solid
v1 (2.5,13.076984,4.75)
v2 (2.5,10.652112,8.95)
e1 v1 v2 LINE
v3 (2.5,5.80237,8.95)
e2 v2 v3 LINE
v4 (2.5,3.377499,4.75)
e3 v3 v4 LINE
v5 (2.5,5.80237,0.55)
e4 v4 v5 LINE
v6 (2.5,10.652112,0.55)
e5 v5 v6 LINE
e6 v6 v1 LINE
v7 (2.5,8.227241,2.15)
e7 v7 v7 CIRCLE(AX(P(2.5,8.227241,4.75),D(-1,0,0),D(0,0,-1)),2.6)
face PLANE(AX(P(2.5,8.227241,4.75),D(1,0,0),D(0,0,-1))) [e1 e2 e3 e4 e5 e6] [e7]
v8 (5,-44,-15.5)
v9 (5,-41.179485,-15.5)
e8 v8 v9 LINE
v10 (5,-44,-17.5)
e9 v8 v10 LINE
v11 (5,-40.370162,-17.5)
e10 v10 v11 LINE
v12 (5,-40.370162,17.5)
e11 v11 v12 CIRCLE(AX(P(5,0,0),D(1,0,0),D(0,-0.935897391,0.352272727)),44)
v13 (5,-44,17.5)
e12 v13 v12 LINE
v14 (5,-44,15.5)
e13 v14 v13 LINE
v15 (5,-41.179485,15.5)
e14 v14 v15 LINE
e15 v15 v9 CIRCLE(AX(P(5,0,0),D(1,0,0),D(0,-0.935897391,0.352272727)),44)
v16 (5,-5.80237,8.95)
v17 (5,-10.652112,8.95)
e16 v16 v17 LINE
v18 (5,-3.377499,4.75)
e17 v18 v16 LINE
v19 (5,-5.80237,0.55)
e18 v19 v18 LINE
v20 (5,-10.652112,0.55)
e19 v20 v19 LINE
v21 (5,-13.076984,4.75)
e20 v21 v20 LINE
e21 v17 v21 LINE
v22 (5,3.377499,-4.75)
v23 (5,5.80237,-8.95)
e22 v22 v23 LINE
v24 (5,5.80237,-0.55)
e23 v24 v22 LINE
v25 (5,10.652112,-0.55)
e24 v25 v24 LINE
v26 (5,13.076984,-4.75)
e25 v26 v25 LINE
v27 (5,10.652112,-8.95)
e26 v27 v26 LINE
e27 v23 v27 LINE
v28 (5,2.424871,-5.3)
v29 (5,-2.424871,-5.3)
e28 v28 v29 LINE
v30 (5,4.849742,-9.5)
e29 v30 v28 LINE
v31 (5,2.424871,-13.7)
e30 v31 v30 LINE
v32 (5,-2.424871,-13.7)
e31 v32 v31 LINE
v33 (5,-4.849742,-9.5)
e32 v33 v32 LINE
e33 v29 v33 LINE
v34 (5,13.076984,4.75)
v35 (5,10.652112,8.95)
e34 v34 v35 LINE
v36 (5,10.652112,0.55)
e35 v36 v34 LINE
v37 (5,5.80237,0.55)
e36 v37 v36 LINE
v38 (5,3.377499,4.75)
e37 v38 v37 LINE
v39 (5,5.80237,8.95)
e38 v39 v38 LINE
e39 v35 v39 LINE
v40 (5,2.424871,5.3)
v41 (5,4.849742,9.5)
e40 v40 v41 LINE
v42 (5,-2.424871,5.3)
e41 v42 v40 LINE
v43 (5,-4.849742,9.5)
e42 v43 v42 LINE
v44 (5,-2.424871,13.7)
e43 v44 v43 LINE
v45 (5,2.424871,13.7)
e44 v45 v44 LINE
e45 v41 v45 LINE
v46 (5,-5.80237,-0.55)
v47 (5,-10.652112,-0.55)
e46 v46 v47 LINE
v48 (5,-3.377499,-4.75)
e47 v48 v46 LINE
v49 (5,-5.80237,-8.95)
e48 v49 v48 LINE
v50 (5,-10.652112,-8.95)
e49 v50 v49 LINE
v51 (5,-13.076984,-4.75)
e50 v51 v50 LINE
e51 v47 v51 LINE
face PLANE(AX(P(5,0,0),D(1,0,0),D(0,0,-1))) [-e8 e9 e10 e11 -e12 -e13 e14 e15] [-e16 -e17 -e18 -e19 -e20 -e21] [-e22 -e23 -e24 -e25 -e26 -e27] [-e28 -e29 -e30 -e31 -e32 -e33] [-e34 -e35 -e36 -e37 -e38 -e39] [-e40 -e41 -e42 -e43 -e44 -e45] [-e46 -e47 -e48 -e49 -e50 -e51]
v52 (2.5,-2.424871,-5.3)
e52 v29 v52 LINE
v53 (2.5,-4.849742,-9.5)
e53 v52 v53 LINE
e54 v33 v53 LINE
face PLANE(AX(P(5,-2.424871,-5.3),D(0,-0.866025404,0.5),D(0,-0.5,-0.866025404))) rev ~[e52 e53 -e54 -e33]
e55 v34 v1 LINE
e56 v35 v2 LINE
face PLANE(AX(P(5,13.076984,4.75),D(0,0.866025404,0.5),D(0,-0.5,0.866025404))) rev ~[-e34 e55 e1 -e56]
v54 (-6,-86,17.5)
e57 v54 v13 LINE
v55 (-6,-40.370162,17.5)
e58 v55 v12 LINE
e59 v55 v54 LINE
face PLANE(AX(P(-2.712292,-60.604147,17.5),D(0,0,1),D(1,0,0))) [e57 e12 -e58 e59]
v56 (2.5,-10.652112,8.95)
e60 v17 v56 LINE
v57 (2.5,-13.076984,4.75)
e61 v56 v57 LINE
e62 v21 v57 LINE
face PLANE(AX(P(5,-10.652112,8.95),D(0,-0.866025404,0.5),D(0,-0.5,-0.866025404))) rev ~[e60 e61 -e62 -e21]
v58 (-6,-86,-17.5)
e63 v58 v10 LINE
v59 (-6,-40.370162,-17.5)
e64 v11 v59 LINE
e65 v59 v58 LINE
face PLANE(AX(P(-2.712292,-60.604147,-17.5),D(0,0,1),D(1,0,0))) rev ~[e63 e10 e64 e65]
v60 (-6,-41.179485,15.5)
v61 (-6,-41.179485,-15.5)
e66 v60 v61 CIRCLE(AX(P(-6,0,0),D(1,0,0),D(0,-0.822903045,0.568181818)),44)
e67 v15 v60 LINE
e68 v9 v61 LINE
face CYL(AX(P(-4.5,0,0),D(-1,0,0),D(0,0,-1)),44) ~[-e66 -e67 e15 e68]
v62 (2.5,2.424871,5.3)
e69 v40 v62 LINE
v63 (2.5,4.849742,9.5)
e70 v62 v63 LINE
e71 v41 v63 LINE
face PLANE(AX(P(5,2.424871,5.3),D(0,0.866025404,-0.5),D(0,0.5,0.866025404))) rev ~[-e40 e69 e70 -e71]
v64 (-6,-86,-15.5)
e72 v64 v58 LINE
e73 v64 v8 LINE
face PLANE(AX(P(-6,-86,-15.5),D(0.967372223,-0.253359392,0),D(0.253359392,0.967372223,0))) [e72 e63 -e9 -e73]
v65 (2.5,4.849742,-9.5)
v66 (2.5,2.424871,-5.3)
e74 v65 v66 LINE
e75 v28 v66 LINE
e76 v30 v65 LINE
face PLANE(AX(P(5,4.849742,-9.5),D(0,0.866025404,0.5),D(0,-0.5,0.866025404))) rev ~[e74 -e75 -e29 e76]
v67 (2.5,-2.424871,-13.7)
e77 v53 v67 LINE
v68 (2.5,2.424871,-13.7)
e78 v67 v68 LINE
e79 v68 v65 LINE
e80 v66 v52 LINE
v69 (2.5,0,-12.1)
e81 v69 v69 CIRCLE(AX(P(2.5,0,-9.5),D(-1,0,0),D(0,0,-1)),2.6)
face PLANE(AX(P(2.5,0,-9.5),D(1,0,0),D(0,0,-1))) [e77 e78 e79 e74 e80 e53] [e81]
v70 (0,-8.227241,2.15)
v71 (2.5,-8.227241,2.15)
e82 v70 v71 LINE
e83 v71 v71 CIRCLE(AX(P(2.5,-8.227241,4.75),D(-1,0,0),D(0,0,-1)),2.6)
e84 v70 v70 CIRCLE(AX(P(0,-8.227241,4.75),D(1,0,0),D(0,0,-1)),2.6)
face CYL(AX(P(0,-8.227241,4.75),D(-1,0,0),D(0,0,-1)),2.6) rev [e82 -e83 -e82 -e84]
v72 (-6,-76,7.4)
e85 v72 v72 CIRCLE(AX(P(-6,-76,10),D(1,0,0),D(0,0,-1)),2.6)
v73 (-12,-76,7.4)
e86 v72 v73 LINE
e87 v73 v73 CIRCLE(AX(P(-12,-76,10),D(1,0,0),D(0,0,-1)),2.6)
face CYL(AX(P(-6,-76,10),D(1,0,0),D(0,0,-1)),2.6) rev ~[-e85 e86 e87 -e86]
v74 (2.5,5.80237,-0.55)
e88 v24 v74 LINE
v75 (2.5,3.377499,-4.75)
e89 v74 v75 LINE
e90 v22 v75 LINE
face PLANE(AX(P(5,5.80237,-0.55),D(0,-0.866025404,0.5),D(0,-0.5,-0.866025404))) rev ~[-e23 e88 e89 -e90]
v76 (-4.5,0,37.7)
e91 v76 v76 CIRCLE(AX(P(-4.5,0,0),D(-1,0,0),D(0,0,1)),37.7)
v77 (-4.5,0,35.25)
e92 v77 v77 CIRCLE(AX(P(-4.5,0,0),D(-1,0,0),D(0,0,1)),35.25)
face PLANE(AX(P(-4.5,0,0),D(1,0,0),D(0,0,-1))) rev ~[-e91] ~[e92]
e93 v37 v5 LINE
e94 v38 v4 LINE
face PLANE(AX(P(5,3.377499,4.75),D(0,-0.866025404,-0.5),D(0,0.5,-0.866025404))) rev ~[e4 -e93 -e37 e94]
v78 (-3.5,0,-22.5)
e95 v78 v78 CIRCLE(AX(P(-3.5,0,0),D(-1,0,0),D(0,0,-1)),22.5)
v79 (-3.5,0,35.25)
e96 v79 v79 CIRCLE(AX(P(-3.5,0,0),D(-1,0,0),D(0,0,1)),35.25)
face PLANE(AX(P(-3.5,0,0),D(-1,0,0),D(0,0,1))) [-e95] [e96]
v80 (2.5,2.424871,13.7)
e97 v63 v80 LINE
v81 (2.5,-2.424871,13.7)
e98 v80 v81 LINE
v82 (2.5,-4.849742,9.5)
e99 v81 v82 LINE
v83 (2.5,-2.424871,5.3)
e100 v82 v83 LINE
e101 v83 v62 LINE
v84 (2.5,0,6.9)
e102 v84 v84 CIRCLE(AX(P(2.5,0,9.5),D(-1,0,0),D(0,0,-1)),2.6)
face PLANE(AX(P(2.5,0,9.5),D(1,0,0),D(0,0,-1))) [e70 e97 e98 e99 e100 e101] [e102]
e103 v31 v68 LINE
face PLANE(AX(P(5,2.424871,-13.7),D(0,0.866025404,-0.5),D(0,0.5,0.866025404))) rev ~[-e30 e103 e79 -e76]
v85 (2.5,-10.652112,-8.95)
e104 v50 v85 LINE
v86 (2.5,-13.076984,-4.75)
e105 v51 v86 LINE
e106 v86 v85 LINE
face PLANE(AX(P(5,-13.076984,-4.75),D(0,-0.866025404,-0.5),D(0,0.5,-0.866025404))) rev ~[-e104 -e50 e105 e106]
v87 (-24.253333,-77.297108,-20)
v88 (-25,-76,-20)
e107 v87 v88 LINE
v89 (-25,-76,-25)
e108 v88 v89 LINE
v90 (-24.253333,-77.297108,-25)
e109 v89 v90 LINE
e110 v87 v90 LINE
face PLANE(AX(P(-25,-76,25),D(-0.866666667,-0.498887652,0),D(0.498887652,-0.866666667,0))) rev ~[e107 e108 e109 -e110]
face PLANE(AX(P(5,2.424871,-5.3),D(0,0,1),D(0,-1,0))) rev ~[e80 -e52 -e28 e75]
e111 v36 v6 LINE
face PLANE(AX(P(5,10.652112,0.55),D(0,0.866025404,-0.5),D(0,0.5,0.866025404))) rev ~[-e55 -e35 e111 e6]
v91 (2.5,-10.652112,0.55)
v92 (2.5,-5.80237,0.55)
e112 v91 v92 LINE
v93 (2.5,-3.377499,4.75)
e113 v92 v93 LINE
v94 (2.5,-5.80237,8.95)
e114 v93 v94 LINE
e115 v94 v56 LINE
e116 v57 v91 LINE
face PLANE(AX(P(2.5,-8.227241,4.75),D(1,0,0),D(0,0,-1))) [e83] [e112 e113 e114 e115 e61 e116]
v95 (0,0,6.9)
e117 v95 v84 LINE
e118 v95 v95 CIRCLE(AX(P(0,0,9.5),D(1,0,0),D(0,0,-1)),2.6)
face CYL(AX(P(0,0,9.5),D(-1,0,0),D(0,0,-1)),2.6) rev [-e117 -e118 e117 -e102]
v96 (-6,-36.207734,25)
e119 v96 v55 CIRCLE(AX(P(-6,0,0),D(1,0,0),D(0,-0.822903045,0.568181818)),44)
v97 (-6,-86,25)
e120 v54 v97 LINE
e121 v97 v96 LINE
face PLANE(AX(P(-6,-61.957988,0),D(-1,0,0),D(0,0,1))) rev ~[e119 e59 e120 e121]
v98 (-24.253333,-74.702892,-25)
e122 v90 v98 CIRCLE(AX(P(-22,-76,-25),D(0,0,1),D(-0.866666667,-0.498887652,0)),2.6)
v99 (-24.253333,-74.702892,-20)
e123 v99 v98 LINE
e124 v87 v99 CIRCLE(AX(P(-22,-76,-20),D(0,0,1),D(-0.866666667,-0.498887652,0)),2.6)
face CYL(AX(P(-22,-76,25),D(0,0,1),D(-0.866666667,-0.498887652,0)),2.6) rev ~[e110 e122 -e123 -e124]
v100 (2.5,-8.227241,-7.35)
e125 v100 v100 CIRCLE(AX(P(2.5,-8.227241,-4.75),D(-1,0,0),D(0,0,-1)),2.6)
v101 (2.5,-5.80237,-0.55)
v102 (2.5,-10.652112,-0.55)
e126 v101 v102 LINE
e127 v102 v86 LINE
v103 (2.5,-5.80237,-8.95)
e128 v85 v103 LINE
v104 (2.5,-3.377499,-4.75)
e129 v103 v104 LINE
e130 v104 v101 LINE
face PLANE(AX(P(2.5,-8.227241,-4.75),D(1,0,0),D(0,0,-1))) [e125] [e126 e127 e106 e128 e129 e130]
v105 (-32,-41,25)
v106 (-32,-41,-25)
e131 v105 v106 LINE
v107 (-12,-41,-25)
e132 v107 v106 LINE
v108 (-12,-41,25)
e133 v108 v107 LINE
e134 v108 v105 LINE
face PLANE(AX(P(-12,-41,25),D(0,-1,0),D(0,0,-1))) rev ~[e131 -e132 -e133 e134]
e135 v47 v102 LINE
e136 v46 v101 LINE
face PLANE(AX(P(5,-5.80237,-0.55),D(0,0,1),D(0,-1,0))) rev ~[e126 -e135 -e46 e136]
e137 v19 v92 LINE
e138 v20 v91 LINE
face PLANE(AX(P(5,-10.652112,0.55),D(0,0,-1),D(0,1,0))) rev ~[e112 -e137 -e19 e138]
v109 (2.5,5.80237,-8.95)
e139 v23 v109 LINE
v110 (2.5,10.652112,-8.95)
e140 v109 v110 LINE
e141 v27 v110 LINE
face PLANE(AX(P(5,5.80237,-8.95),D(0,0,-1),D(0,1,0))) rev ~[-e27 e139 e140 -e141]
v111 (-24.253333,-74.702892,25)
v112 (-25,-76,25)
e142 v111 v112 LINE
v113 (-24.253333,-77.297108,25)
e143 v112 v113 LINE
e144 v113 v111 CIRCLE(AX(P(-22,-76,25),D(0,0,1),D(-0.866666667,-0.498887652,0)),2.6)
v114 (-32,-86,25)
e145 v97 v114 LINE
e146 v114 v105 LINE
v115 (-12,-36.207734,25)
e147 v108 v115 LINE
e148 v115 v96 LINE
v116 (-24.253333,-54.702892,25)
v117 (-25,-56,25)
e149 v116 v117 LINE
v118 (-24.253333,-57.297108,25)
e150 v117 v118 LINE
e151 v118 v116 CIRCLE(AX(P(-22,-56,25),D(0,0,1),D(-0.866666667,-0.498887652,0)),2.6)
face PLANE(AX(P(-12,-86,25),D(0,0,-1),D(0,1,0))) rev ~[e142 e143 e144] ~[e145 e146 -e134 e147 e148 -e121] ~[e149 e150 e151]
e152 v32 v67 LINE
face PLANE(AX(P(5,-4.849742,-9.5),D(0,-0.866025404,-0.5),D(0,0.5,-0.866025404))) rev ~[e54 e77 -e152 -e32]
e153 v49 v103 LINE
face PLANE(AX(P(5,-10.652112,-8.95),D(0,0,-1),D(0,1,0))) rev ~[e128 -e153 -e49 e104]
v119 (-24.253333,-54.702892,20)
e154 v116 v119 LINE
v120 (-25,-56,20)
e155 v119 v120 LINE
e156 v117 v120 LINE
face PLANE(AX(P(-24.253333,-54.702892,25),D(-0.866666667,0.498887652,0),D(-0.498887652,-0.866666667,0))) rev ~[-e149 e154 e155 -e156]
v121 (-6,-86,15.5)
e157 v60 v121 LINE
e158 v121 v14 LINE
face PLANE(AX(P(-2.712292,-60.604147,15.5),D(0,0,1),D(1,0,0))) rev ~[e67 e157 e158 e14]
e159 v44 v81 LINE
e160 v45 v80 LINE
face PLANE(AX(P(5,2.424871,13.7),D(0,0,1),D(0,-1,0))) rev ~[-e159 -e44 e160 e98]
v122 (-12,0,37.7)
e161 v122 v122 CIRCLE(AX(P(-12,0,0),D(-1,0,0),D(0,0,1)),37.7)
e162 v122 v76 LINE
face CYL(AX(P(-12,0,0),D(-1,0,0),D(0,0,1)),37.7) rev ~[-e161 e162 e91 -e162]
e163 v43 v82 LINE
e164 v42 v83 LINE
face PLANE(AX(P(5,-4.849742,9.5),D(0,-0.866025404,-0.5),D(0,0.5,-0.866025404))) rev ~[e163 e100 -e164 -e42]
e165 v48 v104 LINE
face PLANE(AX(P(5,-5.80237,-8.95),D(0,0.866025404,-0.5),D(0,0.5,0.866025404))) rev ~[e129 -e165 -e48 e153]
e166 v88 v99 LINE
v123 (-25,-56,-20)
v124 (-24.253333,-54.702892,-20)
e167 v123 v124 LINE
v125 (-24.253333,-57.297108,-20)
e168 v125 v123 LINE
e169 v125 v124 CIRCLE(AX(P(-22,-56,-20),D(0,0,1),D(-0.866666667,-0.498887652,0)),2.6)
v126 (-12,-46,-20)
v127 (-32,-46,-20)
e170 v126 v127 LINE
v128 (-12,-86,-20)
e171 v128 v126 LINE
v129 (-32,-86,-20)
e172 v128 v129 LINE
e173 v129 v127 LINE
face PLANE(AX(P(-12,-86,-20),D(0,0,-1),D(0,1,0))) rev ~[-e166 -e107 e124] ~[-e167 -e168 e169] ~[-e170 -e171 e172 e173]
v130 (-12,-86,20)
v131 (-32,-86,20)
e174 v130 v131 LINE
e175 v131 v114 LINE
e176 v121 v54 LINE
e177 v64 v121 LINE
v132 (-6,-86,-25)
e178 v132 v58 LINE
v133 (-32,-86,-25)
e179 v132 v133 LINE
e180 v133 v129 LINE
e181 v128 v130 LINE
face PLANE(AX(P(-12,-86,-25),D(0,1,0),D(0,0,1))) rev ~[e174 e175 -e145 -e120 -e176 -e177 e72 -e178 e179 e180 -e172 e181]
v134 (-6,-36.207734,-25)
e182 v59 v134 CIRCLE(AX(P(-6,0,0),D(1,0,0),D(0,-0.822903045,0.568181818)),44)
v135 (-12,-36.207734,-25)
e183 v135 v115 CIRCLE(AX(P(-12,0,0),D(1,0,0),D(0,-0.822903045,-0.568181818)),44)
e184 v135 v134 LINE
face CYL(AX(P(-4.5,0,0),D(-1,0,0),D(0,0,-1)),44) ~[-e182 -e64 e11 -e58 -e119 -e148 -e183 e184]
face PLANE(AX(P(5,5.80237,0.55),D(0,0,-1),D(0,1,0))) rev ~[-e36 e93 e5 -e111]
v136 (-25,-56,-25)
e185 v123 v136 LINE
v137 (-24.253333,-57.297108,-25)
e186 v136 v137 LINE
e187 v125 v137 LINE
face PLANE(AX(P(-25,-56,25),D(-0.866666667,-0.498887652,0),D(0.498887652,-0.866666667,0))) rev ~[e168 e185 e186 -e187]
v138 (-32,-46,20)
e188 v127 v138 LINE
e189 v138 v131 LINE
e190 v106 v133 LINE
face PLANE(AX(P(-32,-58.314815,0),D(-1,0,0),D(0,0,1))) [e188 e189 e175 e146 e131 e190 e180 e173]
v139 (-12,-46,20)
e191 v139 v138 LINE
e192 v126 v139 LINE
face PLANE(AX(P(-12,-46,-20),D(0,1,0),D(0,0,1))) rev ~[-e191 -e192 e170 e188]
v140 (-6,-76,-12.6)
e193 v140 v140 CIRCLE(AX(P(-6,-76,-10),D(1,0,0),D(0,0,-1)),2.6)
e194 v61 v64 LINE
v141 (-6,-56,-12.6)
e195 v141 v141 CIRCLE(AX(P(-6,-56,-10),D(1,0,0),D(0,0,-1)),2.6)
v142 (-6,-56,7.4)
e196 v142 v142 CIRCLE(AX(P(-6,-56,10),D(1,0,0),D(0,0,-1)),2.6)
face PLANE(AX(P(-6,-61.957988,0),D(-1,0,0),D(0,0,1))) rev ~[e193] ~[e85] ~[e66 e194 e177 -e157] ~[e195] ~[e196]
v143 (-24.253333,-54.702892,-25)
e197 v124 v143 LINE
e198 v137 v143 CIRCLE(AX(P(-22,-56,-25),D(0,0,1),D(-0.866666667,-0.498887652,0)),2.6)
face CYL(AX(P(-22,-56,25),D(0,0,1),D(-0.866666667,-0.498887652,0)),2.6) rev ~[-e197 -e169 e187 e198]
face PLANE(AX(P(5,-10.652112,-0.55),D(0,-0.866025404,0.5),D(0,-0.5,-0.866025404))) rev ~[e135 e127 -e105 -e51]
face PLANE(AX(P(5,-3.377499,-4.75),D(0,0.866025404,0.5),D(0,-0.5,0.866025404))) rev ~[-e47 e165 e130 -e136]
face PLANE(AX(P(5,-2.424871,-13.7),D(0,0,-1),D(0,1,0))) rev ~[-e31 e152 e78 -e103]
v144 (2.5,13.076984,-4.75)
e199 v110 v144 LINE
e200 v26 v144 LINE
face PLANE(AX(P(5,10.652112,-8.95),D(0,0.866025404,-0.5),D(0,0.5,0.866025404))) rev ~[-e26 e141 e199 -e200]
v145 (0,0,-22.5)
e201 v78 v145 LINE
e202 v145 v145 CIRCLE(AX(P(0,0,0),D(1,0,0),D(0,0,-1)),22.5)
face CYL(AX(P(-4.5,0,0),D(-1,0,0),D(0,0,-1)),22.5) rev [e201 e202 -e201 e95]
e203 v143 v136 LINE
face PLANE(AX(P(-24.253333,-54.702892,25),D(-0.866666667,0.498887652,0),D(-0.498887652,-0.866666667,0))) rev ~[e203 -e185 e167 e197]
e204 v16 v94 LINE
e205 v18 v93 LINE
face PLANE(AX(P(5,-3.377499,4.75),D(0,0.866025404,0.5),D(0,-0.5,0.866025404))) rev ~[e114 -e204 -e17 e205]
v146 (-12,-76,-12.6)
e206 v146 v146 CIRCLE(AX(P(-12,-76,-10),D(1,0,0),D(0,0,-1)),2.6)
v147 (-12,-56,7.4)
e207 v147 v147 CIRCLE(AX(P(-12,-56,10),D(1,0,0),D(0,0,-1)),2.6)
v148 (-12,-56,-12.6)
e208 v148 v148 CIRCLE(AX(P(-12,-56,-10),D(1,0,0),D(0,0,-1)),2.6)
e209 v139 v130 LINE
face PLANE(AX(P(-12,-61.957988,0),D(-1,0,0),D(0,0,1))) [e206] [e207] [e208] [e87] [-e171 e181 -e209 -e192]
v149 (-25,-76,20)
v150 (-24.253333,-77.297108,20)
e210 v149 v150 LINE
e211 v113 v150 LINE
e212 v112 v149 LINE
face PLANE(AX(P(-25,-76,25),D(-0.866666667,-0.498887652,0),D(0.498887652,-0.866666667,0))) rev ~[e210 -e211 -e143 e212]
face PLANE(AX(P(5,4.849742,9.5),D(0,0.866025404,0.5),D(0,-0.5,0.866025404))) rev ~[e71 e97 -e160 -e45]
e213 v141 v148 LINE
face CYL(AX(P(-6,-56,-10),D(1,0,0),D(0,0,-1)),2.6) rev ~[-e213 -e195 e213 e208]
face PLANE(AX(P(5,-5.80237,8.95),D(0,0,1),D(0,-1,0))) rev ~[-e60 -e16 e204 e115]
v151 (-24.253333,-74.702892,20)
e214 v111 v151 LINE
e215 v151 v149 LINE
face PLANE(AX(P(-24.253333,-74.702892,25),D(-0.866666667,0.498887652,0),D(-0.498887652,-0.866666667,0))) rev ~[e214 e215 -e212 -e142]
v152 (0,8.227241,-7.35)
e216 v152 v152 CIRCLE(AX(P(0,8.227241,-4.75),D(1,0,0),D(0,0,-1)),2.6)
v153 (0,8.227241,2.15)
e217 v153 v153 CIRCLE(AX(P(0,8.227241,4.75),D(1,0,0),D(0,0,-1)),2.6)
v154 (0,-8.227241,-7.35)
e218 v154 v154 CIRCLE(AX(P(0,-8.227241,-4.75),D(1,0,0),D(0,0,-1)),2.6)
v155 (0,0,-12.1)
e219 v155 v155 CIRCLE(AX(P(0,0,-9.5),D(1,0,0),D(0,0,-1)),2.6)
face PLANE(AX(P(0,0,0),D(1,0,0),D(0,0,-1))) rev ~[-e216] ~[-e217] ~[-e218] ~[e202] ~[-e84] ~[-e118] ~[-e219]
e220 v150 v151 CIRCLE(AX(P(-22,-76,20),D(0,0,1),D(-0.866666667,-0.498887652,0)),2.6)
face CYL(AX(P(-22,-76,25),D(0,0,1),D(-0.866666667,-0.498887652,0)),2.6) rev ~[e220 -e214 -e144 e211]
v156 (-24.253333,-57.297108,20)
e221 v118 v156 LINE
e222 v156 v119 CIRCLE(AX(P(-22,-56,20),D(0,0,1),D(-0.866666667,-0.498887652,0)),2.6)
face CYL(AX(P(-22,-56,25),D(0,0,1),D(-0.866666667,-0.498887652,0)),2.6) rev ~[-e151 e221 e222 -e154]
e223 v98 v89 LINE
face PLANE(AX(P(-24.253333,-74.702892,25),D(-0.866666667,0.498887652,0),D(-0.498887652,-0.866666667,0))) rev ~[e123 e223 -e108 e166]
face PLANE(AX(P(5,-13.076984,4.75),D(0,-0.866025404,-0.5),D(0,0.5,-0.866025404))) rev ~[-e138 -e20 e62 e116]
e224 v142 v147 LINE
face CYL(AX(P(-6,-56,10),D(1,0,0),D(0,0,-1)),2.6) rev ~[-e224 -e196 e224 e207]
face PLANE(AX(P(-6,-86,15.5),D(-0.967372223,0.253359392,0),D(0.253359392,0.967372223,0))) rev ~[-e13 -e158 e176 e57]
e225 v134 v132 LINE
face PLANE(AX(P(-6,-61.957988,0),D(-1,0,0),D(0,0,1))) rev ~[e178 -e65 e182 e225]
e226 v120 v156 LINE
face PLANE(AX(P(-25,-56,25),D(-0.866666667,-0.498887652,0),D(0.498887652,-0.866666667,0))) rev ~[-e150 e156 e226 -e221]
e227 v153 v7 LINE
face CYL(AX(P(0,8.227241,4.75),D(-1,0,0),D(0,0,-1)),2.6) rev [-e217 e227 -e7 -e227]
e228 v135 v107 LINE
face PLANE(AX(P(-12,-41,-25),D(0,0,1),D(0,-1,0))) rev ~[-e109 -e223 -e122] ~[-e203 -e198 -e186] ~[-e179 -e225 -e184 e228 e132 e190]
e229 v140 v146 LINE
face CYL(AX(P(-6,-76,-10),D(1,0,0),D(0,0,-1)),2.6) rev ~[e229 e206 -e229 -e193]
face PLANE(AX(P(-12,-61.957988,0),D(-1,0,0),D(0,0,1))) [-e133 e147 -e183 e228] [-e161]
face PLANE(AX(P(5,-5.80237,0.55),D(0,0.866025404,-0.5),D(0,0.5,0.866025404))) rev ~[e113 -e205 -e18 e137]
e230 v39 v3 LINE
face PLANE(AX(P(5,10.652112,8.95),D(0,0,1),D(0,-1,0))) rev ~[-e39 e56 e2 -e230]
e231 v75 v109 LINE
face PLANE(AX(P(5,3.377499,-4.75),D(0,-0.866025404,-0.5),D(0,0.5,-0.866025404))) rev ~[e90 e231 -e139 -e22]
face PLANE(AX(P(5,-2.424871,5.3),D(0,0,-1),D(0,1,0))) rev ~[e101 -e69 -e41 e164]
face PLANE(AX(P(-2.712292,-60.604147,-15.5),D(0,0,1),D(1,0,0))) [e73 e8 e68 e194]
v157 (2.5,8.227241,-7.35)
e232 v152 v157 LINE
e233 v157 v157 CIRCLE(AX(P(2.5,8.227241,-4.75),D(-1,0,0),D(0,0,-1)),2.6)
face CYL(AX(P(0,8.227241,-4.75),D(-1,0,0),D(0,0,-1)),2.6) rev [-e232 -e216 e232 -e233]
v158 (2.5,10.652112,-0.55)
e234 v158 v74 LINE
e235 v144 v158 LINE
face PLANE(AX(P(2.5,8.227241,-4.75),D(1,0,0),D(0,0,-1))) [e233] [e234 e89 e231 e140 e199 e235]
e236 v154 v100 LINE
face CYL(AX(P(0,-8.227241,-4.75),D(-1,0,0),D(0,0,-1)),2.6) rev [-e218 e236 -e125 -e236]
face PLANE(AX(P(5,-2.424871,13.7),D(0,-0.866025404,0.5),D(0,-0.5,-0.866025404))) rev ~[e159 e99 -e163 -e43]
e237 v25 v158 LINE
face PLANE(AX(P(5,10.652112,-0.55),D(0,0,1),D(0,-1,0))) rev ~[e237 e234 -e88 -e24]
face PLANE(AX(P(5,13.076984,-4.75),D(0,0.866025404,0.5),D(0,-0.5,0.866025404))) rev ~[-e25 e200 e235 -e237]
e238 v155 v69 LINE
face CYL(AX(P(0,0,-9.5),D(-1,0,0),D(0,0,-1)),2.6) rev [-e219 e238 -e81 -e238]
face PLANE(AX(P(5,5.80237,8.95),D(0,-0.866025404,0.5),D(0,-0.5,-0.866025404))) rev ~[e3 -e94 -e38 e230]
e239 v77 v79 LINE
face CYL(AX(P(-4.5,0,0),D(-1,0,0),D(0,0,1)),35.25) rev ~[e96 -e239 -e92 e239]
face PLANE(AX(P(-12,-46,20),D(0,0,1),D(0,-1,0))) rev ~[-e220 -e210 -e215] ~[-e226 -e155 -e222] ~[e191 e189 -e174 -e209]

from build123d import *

# Parameters (mm, degrees)
SKETCH1_R                = 44
SKETCH1_R_2              = 2.6
BOSS_EXTRUDE1_DEPTH      = 5
BOSS_EXTRUDE2_START      = -4.5
SKETCH1_3_R              = 44
SKETCH1_3_R_2            = 22.5
BOSS_EXTRUDE2_DEPTH      = 4.5
BOSS_EXTRUDE3_START      = 7.5
SKETCH2_R                = 44
SKETCH2_R_2              = 37.7
BOSS_EXTRUDE3_DEPTH      = 7.5
BOSS_EXTRUDE4_DEPTH      = 6
SKETCH4_R                = 35.25
CUT_EXTRUDE1_DEPTH       = 1
BOSS_EXTRUDE5_DEPTH      = 20
BOSS_EXTRUDE7_DEPTH      = 1
BOSS_EXTRUDE7_DEPTH_BACK = 1
BOSS_EXTRUDE8_DEPTH      = 1
BOSS_EXTRUDE8_DEPTH_BACK = 1
SKETCH8_R                = 2.6
CUT_EXTRUDE2_DEPTH       = 101.039992003
CUT_EXTRUDE3_DEPTH       = 115.808536268
CUT_EXTRUDE4_DEPTH       = 2.5


with BuildPart() as part:
    # Sketch1 → Boss-Extrude1 (new body)
    with BuildSketch(Plane(origin=(0, 0, 0), x_dir=(0, 0, -1), z_dir=(1, 0, 0))):
        Circle(SKETCH1_R)
        with Locations((-4.75, -8.227241336)):
            Circle(SKETCH1_R_2, mode=Mode.SUBTRACT)
        with Locations((4.75, -8.227241336)):
            Circle(SKETCH1_R_2, mode=Mode.SUBTRACT)
        with Locations((9.5, 0)):
            Circle(SKETCH1_R_2, mode=Mode.SUBTRACT)
        with Locations((-9.5, 0)):
            Circle(SKETCH1_R_2, mode=Mode.SUBTRACT)
        with Locations((-4.75, 8.227241336)):
            Circle(SKETCH1_R_2, mode=Mode.SUBTRACT)
        with Locations((4.75, 8.227241336)):
            Circle(SKETCH1_R_2, mode=Mode.SUBTRACT)
    extrude(amount=BOSS_EXTRUDE1_DEPTH)

    # Sketch1<3> → Boss-Extrude2 (add)
    with BuildSketch(Plane(origin=(0, 0, 0), x_dir=(0, 0, -1), z_dir=(1, 0, 0)).offset(BOSS_EXTRUDE2_START)):
        Circle(SKETCH1_3_R)
        Circle(SKETCH1_3_R_2, mode=Mode.SUBTRACT)
    extrude(amount=BOSS_EXTRUDE2_DEPTH)

    # Sketch2 → Boss-Extrude3 (add)
    with BuildSketch(Plane.ZY.offset(4.5).offset(BOSS_EXTRUDE3_START)):
        Circle(SKETCH2_R)
        Circle(SKETCH2_R_2, mode=Mode.SUBTRACT)
    extrude(amount=-BOSS_EXTRUDE3_DEPTH)

    # Sketch3 → Boss-Extrude4 (add)
    with BuildSketch(Plane.ZY.offset(12)):
        with BuildLine():
            Line((-25, -86), (25, -86))
            Line((25, -86), (25, -36.20773398))
            ThreePointArc((25, -36.20773398), (0, -44), (-25, -36.20773398))
            Line((-25, -36.20773398), (-25, -86))
        make_face()
    extrude(amount=-BOSS_EXTRUDE4_DEPTH)

    # Sketch4 → Cut-Extrude1 (cut)
    with BuildSketch(Plane.ZY.offset(4.5)):
        Circle(SKETCH4_R)
    extrude(amount=-CUT_EXTRUDE1_DEPTH, mode=Mode.SUBTRACT)

    # Sketch5 → Boss-Extrude5 (add)
    with BuildSketch(Plane.ZY.offset(12)):
        Polygon((-25, -41), (-25, -86), (-20, -86), (-20, -46), (20, -46), (20, -86), (25, -86), (25, -41), align=None)
    extrude(amount=BOSS_EXTRUDE5_DEPTH)

    # Sketch6 → Boss-Extrude7 (add, two sides: drawn at the far end of the back side and taken through both)
    with BuildSketch(Plane.XY.offset(16.5).offset(-BOSS_EXTRUDE7_DEPTH_BACK)):
        Polygon((5, -40), (-6, -40), (-6, -86), (5, -44), align=None)
    extrude(amount=BOSS_EXTRUDE7_DEPTH + BOSS_EXTRUDE7_DEPTH_BACK)

    # Sketch7 → Boss-Extrude8 (add, two sides: drawn at the far end of the back side and taken through both)
    with BuildSketch(Plane(origin=(0, 0, -16.5), x_dir=(-1, 0, 0), z_dir=(0, 0, -1)).offset(-BOSS_EXTRUDE8_DEPTH_BACK)):
        Polygon((-5, -40), (6, -40), (6, -86), (-5, -44), align=None)
    extrude(amount=BOSS_EXTRUDE8_DEPTH + BOSS_EXTRUDE8_DEPTH_BACK)

    # Sketch8 → Cut-Extrude2 (cut, through all)
    with BuildSketch(Plane(origin=(-6, 0, 0), x_dir=(0, 0, -1), z_dir=(1, 0, 0))):
        with Locations((-10, -76)):
            Circle(SKETCH8_R)
        with Locations((10, -76)):
            Circle(SKETCH8_R)
        with Locations((-10, -56)):
            Circle(SKETCH8_R)
        with Locations((10, -56)):
            Circle(SKETCH8_R)
    extrude(amount=-CUT_EXTRUDE2_DEPTH, mode=Mode.SUBTRACT)

    # Sketch9 → Cut-Extrude3 (cut, through all)
    with BuildSketch(Plane.XY.offset(25)):
        with BuildLine():
            Line((-25, -56), (-24.253333333, -57.297107894))
            ThreePointArc((-24.253333333, -57.297107894), (-19.4, -56), (-24.253333333, -54.702892106))
            Line((-24.253333333, -54.702892106), (-25, -56))
        make_face()
        with BuildLine():
            Line((-25, -76), (-24.253333333, -77.297107894))
            ThreePointArc((-24.253333333, -77.297107894), (-19.4, -76), (-24.253333333, -74.702892106))
            Line((-24.253333333, -74.702892106), (-25, -76))
        make_face()
    extrude(amount=-CUT_EXTRUDE3_DEPTH, mode=Mode.SUBTRACT)

    # Sketch10 → Cut-Extrude4 (cut)
    with BuildSketch(Plane(origin=(5, 0, 0), x_dir=(0, 0, -1), z_dir=(1, 0, 0))):
        Polygon((9.5, -4.849742261), (13.7, -2.424871131), (13.7, 2.424871131), (9.5, 4.849742261), (5.3, 2.424871131), (5.3, -2.424871131), align=None)
        Polygon((8.95, 5.802370205), (8.95, 10.652112467), (4.75, 13.076983597), (0.55, 10.652112467), (0.55, 5.802370205), (4.75, 3.377499075), align=None)
        Polygon((0.55, -10.652112467), (4.75, -13.076983597), (8.95, -10.652112467), (8.95, -5.802370205), (4.75, -3.377499075), (0.55, -5.802370205), align=None)
        Polygon((-8.95, -5.802370205), (-8.95, -10.652112467), (-4.75, -13.076983597), (-0.55, -10.652112467), (-0.55, -5.802370205), (-4.75, -3.377499075), align=None)
        Polygon((-9.5, 4.849742261), (-13.7, 2.424871131), (-13.7, -2.424871131), (-9.5, -4.849742261), (-5.3, -2.424871131), (-5.3, 2.424871131), align=None)
        Polygon((-0.55, 10.652112467), (-4.75, 13.076983597), (-8.95, 10.652112467), (-8.95, 5.802370205), (-4.75, 3.377499075), (-0.55, 5.802370205), align=None)
    extrude(amount=-CUT_EXTRUDE4_DEPTH, mode=Mode.SUBTRACT)


solid = part.part
